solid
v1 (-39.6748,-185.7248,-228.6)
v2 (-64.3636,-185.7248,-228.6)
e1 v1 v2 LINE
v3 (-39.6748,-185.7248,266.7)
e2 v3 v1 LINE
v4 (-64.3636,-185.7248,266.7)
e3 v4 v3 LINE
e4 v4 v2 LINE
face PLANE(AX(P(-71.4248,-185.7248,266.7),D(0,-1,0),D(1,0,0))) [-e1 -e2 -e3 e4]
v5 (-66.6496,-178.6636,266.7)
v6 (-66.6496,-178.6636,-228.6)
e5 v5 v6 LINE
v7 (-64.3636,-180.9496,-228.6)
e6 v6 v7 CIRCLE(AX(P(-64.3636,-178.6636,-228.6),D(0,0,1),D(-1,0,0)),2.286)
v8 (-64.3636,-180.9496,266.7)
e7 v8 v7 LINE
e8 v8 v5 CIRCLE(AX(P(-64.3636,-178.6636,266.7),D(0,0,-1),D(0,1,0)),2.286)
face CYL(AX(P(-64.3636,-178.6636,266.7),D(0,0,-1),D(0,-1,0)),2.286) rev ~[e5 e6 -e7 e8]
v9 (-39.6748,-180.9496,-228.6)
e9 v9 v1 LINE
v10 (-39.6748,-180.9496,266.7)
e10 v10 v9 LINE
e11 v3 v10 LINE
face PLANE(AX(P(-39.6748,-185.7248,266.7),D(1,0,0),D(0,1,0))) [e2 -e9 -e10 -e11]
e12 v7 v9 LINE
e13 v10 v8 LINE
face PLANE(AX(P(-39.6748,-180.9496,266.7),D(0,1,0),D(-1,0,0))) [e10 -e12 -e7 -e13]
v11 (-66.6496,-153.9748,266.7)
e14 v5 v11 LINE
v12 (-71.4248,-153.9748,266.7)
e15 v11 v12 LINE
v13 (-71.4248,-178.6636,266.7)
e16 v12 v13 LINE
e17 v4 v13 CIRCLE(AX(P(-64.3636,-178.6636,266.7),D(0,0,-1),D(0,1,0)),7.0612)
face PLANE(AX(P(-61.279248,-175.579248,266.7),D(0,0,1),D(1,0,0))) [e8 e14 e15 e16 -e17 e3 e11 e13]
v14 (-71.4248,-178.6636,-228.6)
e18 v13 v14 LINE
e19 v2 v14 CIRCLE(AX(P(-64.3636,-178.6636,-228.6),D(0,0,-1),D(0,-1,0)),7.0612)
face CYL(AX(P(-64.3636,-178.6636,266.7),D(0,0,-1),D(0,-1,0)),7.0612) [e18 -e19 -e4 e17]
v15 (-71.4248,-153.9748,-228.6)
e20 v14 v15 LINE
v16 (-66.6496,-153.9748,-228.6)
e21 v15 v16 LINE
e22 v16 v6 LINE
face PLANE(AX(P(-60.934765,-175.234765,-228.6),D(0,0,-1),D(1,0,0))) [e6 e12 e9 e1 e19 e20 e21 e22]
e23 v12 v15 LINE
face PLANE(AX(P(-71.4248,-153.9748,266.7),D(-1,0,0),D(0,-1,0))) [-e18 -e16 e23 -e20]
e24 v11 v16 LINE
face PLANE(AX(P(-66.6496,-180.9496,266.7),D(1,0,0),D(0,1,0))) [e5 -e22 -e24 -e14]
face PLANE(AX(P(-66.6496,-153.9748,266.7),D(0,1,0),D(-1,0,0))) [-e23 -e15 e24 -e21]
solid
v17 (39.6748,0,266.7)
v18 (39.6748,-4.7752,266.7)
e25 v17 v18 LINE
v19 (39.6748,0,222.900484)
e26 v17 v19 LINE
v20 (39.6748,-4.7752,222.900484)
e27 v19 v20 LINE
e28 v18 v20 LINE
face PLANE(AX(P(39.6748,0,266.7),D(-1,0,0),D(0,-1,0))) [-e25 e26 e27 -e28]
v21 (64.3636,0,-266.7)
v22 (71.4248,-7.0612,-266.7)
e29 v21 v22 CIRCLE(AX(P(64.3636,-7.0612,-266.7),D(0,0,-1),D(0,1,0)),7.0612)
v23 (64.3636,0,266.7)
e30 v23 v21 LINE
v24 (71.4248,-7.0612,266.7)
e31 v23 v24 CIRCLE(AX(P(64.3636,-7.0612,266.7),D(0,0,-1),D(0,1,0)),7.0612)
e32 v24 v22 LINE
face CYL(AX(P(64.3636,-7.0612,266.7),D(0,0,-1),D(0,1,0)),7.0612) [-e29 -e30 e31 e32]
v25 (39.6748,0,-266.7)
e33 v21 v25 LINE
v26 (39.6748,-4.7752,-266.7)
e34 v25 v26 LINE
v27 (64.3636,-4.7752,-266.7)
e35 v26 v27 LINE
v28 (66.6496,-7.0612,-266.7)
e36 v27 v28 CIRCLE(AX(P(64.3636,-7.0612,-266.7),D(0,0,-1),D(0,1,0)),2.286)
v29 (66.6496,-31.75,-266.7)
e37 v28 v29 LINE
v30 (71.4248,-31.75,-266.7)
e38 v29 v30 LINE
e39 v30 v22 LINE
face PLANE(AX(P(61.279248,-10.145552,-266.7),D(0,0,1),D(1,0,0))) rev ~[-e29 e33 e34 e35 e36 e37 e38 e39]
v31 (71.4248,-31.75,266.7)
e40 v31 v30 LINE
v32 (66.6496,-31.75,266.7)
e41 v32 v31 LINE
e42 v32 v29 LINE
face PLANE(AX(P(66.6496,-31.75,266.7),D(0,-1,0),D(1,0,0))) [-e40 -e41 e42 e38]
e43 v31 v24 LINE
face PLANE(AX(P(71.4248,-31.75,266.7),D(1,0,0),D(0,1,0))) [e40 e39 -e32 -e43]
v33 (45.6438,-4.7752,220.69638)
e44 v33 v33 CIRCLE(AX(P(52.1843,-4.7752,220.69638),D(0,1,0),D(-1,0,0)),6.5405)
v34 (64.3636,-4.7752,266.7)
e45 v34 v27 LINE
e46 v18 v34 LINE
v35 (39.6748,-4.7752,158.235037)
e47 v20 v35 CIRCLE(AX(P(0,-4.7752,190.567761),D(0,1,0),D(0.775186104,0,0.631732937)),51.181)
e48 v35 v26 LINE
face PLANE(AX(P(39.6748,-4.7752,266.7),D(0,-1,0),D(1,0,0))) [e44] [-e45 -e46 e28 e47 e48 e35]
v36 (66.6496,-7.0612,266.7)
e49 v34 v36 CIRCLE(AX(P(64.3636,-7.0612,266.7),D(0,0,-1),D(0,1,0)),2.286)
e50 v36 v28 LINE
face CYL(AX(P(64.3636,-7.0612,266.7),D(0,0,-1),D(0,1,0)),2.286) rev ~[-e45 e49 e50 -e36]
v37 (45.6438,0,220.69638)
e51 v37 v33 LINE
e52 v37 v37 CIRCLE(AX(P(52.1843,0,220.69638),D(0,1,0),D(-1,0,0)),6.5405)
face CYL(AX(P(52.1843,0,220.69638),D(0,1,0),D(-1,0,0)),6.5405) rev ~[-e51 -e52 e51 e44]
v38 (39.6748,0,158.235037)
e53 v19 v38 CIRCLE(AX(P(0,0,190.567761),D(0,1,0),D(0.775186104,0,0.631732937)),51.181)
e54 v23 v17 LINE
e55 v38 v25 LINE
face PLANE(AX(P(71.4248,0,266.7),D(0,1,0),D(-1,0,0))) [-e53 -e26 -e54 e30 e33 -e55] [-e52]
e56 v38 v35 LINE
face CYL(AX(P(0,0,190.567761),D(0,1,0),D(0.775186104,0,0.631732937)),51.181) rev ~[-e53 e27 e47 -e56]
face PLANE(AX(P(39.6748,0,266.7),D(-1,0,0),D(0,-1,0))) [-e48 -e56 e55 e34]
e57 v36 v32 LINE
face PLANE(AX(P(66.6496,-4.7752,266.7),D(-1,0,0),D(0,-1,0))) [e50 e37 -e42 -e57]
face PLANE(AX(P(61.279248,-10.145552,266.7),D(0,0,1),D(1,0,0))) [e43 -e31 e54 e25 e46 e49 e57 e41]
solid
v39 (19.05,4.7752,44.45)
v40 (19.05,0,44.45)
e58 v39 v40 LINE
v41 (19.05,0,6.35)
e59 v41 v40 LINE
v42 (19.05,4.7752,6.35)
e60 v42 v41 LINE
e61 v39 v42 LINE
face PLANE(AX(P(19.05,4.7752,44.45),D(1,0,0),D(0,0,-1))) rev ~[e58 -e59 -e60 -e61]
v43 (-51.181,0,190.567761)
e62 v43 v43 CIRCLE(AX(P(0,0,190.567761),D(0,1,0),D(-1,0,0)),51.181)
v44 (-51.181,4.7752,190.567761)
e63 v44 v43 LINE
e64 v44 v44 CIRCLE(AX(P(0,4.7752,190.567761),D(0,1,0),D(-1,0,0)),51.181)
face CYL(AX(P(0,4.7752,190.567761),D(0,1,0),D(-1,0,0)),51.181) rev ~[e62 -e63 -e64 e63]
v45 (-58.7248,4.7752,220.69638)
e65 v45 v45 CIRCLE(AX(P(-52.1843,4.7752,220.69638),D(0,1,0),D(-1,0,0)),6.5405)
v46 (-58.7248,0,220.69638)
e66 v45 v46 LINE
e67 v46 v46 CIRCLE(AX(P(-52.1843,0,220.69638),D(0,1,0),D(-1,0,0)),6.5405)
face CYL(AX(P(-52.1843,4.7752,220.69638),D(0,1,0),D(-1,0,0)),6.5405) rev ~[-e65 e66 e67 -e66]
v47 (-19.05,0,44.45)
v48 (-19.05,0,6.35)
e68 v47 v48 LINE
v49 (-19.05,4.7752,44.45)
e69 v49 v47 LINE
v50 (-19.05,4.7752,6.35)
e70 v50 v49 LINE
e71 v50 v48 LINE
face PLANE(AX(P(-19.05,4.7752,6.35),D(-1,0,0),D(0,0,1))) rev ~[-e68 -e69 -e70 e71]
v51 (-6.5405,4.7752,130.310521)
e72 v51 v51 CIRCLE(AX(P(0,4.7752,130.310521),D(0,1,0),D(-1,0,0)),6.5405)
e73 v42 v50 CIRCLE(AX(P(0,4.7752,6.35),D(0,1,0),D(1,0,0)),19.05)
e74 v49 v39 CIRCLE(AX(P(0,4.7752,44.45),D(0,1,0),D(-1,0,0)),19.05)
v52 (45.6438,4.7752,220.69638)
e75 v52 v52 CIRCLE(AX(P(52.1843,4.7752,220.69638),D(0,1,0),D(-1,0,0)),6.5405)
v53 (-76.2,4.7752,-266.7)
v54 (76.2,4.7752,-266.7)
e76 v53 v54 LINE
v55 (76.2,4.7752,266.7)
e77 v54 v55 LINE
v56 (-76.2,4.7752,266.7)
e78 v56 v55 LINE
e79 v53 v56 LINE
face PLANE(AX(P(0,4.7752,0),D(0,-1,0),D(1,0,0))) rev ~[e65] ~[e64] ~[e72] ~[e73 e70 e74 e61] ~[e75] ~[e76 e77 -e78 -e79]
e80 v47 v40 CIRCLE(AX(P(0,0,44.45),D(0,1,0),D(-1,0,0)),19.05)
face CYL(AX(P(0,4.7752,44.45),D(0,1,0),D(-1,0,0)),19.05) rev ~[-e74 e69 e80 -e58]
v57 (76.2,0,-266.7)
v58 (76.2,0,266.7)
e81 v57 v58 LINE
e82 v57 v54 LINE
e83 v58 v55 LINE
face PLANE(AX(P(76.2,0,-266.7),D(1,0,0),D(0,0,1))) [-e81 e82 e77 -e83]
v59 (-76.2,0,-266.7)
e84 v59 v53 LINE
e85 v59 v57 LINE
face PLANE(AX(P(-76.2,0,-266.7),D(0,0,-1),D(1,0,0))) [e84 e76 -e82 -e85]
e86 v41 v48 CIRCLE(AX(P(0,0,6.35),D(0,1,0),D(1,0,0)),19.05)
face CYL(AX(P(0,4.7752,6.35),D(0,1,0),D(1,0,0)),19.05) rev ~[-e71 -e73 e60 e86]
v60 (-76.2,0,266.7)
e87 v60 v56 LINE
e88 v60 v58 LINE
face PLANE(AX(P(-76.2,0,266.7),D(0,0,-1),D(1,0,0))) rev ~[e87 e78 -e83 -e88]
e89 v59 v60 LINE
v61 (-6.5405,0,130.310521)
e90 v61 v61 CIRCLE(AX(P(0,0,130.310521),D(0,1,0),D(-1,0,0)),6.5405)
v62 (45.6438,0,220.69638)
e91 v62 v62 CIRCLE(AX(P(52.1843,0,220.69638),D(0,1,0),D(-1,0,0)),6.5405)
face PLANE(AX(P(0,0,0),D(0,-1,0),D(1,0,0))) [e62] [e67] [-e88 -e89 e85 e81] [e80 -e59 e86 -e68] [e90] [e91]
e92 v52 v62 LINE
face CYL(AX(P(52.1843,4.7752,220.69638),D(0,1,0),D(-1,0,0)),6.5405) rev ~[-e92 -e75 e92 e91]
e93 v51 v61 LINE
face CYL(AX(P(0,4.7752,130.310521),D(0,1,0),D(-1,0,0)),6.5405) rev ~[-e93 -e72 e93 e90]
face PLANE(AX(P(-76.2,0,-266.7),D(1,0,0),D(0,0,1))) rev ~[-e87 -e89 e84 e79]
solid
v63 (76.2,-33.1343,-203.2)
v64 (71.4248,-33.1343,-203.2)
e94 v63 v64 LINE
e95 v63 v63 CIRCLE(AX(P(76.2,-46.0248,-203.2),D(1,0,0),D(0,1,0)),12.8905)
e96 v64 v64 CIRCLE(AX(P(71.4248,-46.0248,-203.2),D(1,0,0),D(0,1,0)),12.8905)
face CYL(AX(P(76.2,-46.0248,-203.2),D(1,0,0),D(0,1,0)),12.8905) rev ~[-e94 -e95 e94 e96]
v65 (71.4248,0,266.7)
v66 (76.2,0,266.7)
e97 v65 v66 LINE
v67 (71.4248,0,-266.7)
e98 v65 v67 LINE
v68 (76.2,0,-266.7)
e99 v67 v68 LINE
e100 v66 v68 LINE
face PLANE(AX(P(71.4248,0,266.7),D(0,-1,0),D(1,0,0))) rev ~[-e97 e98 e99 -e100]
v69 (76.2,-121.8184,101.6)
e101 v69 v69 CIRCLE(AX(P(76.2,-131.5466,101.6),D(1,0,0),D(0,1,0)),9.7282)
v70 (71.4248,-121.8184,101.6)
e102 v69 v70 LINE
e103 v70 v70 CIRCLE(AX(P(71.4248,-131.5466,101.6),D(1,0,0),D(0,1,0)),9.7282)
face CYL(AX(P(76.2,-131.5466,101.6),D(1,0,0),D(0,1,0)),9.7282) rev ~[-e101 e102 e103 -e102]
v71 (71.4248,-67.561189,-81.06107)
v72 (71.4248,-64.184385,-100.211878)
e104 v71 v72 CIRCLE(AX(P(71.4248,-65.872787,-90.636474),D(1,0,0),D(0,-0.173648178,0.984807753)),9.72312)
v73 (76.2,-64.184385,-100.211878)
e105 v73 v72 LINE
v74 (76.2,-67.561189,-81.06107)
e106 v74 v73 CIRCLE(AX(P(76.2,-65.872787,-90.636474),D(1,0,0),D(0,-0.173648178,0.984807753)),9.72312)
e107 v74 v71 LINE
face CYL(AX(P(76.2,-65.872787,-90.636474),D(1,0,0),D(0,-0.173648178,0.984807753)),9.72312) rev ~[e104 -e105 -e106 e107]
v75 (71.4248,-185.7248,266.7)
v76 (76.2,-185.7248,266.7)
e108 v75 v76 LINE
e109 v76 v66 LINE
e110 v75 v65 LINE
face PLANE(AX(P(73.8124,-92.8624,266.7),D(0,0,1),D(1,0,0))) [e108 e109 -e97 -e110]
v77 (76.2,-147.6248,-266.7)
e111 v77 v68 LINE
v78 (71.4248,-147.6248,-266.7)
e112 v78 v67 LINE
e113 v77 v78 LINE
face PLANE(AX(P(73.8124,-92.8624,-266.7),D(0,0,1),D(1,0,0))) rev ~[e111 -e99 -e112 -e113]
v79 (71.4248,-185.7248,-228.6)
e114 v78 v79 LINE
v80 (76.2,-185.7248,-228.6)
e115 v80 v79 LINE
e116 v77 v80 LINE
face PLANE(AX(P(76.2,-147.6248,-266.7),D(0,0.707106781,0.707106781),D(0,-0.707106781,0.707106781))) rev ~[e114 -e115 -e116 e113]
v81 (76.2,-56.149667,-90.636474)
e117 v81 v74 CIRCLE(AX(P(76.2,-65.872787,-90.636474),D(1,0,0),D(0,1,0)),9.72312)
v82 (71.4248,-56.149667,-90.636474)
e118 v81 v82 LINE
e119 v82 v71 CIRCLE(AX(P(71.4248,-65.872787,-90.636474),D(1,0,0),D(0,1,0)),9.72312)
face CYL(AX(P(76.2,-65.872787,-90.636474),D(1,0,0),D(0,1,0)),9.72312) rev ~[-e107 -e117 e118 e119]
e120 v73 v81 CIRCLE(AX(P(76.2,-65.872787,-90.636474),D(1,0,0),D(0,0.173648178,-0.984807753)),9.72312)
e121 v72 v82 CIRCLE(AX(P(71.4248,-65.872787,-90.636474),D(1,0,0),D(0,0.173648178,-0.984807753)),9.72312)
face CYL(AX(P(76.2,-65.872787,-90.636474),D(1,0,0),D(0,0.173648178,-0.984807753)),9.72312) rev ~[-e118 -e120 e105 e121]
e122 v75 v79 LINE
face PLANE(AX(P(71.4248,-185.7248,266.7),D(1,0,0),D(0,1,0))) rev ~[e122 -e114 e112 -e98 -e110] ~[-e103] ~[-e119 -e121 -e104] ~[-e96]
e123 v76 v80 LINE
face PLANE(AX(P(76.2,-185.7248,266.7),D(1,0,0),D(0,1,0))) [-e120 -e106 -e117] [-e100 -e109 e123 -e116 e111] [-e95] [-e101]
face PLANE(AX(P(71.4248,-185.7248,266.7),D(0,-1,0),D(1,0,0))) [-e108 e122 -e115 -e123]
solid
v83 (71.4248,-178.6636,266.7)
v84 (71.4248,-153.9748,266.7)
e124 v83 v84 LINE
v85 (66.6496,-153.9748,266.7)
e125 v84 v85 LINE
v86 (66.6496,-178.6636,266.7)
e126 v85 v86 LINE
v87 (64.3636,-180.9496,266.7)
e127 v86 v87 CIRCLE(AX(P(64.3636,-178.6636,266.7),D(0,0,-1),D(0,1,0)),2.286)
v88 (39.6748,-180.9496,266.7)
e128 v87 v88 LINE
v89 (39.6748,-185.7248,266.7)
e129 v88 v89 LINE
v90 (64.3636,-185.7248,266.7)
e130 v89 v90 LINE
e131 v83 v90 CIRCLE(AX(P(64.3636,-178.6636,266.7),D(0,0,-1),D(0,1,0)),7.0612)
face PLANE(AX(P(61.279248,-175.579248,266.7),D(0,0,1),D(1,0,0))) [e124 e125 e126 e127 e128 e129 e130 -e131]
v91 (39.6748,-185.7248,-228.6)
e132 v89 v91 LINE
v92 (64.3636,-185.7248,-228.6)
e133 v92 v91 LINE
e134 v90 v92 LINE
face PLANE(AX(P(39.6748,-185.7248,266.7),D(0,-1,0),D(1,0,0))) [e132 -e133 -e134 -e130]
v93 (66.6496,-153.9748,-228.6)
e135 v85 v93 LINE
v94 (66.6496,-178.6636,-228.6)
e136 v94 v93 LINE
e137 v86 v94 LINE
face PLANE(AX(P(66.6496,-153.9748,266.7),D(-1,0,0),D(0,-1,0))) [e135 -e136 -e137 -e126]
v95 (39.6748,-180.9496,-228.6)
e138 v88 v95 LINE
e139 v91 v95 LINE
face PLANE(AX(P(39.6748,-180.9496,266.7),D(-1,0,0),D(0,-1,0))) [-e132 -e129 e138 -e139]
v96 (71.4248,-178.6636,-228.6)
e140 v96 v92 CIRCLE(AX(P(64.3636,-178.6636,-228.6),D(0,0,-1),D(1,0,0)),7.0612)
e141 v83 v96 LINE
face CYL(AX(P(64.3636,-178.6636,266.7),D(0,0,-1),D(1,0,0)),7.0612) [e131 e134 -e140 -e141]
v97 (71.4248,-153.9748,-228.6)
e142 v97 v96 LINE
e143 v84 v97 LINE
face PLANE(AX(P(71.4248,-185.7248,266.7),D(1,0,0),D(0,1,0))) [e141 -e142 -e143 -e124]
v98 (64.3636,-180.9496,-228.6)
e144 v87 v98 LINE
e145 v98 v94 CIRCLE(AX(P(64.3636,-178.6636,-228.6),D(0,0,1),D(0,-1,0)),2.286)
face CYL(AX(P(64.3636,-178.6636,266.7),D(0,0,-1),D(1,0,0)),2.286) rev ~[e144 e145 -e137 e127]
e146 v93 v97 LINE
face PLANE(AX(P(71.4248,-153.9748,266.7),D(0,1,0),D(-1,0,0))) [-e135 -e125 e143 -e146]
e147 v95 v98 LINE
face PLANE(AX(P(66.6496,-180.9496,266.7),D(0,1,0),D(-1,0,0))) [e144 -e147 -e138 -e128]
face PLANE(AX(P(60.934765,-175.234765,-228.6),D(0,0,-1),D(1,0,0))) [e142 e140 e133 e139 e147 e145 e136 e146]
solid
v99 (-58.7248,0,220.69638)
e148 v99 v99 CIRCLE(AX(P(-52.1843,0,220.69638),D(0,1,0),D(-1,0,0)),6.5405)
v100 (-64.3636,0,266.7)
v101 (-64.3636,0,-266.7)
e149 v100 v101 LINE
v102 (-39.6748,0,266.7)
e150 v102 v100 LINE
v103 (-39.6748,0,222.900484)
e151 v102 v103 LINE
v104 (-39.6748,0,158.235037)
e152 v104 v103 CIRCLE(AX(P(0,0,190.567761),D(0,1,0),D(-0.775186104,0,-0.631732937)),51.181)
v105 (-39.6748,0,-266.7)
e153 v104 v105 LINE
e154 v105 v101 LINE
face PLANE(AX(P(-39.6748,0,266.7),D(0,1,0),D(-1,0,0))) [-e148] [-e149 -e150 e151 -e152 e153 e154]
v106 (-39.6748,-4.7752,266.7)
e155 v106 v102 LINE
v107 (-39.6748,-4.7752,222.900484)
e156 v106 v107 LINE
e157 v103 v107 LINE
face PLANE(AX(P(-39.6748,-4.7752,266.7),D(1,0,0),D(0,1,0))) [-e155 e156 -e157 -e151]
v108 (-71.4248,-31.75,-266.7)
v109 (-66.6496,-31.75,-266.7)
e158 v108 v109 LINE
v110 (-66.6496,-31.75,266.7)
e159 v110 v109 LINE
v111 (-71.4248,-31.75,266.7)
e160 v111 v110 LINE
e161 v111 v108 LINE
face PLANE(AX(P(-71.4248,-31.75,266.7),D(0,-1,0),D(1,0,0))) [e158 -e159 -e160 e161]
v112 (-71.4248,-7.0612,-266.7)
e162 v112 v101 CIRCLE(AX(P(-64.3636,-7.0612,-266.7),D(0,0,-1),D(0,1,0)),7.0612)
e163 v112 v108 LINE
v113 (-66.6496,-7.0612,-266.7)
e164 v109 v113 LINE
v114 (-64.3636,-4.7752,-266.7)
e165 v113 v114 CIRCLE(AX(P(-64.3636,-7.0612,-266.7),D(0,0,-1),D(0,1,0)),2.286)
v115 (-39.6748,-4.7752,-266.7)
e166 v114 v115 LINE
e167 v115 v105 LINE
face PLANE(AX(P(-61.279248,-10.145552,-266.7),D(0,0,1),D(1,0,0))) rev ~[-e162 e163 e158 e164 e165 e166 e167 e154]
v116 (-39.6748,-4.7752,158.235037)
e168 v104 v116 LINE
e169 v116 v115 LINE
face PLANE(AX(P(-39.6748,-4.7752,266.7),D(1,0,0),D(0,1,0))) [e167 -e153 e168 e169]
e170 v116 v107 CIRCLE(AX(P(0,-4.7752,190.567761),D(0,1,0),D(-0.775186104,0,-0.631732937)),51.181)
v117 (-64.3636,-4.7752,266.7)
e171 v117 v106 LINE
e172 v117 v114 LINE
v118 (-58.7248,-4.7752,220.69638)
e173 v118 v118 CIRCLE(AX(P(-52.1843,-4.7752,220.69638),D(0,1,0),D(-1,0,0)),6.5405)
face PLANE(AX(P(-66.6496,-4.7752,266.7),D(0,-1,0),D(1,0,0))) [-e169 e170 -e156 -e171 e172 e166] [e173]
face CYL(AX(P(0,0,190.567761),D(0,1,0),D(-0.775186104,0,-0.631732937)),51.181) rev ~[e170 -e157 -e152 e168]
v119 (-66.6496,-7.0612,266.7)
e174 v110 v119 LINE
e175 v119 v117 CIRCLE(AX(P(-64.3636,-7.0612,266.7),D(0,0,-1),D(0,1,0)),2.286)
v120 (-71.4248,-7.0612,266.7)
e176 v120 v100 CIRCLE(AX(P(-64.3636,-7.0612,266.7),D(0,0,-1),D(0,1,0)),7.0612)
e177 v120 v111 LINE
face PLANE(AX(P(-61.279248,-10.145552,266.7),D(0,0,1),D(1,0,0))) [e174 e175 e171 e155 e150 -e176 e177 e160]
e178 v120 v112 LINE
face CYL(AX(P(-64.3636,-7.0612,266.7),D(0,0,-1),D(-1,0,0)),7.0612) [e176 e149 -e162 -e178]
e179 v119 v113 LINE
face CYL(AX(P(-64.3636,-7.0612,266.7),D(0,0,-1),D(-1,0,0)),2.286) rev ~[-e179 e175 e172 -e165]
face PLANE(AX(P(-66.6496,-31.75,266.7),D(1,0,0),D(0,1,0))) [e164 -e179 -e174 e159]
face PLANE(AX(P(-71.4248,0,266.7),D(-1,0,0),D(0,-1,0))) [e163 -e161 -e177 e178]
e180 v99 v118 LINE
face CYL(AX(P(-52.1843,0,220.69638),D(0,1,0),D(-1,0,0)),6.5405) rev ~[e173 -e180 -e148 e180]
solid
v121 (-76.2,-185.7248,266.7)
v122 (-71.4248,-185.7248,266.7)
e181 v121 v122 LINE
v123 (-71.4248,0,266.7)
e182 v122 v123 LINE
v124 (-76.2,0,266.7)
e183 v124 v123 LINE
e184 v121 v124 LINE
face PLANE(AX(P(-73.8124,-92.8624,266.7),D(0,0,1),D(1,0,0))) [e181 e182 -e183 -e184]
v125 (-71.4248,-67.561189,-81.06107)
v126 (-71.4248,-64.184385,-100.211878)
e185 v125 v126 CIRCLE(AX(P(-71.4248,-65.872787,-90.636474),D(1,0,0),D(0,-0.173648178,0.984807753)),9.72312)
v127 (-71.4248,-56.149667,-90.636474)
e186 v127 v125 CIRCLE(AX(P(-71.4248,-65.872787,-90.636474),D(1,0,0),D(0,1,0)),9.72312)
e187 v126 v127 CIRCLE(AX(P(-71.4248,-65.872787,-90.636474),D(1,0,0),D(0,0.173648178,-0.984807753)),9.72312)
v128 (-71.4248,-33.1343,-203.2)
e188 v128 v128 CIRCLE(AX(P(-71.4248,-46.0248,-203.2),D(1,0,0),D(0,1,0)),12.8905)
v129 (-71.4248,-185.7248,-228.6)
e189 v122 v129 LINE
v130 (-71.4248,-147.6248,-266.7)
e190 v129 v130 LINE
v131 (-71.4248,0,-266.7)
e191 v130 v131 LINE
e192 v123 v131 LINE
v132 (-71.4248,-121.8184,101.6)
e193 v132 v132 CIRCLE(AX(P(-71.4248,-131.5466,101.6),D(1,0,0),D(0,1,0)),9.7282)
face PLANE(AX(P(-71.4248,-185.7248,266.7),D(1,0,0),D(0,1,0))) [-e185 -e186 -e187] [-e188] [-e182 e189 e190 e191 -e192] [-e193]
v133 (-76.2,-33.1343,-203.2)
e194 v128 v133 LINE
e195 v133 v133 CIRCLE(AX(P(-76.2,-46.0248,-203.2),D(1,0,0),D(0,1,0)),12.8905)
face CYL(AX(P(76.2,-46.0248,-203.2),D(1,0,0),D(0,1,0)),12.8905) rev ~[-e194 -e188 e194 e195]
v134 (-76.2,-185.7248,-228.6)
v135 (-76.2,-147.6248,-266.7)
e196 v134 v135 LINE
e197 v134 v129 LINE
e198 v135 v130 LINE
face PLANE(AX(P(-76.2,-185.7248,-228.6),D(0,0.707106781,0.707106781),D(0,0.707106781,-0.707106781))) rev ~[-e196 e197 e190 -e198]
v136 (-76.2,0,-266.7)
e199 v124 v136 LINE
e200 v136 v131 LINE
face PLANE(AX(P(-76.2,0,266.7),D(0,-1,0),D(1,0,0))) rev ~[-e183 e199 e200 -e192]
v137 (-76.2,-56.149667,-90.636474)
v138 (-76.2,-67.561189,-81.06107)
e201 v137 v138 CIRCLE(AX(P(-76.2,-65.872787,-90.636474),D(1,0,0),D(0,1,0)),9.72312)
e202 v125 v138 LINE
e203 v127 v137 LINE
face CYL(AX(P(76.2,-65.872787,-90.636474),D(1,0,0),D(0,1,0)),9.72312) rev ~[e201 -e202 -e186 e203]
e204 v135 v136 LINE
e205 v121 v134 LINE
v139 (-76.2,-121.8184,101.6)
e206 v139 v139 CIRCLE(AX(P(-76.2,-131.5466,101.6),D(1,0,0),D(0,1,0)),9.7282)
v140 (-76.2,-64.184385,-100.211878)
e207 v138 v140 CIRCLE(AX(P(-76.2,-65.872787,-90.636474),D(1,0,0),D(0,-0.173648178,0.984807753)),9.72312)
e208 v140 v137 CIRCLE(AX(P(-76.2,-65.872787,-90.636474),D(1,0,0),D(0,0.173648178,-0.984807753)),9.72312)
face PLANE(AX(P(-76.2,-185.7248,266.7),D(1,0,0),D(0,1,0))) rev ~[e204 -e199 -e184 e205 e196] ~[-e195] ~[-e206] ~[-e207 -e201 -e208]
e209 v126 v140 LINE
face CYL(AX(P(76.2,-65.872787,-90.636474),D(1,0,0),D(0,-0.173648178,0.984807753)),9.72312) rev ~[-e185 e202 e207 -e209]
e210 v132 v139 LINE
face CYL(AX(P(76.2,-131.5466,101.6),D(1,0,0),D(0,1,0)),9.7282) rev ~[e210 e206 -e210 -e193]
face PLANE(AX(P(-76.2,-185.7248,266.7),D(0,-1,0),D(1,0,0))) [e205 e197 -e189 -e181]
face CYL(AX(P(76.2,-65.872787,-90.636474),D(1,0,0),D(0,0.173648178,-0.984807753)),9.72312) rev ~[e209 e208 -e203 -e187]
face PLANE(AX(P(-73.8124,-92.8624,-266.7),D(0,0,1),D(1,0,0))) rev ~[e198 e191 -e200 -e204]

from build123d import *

# Parameters (mm, degrees)
F0_W      = 152.4
F0_H      = 533.4
F1_DEPTH  = 4.7752
F2_R      = 51.181
F2_R_2    = 6.5405
F3_DEPTH  = 25.4
F4_W      = 4.7752
F4_H      = 185.7248
F5_DEPTH  = 533.4
F7_DEPTH  = 533.4
F8_R      = 2.286
F9_R      = 7.0612
F10_R     = 12.8905
F11_DEPTH = 152.401
F12_R     = 9.7282
F13_DEPTH = 152.401
F14_R     = 6.5405
F15_DEPTH = 6.35
F17_DEPTH = 6.35
F19_DEPTH = 4.7752
F21_DEPTH = 4.7752
F23_DEPTH = 38.1


with BuildPart() as f1:
    # F0 (on Front) → F1 (new body)
    with BuildSketch(Plane.XZ):
        Rectangle(F0_W, F0_H)
    extrude(amount=-F1_DEPTH)

    # F2 (on face) → F3 (cut)
    with BuildSketch(Plane(origin=(0, 4.7752, 0), x_dir=(-1, 0, 0), z_dir=(0, 1, 0))):
        with Locations((0, 190.5677606951)):
            Circle(F2_R)
        with Locations((0, 130.3105213901)):
            Circle(F2_R_2)
        with Locations((52.1843, 220.6963803475)):
            Circle(F2_R_2)
        with Locations((-52.1843, 220.6963803475)):
            Circle(F2_R_2)
    extrude(amount=-F3_DEPTH, mode=Mode.SUBTRACT)

    # F16 (on face) → F17 (cut)
    with BuildSketch(Plane(origin=(0, 4.7752, 0), x_dir=(-1, 0, 0), z_dir=(0, 1, 0))):
        with BuildLine():
            Line((19.05, 6.35), (19.05, 44.45))
            ThreePointArc((19.05, 44.45), (0, 63.5), (-19.05, 44.45))
            Line((-19.05, 44.45), (-19.05, 6.35))
            ThreePointArc((-19.05, 6.35), (0, -12.7), (19.05, 6.35))
        make_face()
    extrude(amount=-F17_DEPTH, mode=Mode.SUBTRACT)


with BuildPart() as f5:
    # F4 (on face) → F5 (new body, through all)
    with BuildSketch(Plane.XY.offset(266.7)):
        with Locations((73.8124, -92.8624)):
            Rectangle(F4_W, F4_H)
        with Locations((-73.8124, -92.8624)):
            Rectangle(F4_W, F4_H)
    extrude(amount=-F5_DEPTH)

    # F10 (on face) → F11 (cut, through all)
    with BuildSketch(Plane.YZ.offset(76.2)):
        with Locations((-46.0248, -203.2)):
            Circle(F10_R)
    extrude(amount=-F11_DEPTH, mode=Mode.SUBTRACT)

    # F12 (on face) → F13 (cut, through all)
    with BuildSketch(Plane.YZ.offset(76.2)):
        with BuildLine():
            ThreePointArc((-48.2632118342, -190.5053356598), (-54.3106536827, -213.074695894), (-33.1343, -203.2))
            ThreePointArc((-33.1343, -203.2), (-37.7389463173, -193.325304106), (-48.2632118342, -190.5053356598))
        make_face()
        with BuildLine():
            ThreePointArc((-67.5611887766, -81.0610698712), (-75.4481906668, -92.3248758999), (-64.1843846381, -100.2118777902))
            Line((-64.1843846381, -100.2118777902), (-67.5611887766, -81.0610698712))
        make_face()
        with BuildLine():
            Line((-67.5611887766, -81.0610698712), (-64.1843846381, -100.2118777902))
            ThreePointArc((-64.1843846381, -100.2118777902), (-58.4244446616, -96.8863748942), (-56.1496667073, -90.6364738307))
            ThreePointArc((-56.1496667073, -90.6364738307), (-59.6228856438, -83.1881317849), (-67.5611887766, -81.0610698712))
        make_face()
        with Locations((-131.5466, 101.6)):
            Circle(F12_R)
    extrude(amount=-F13_DEPTH, mode=Mode.SUBTRACT)

    # F18 (on face) → F19 (cut, through all)
    with BuildSketch(Plane.YZ.offset(76.2)):
        Polygon((-185.7248, -228.6), (-185.7248, -266.7), (-147.6248, -266.7), align=None)
    extrude(amount=-F19_DEPTH, mode=Mode.SUBTRACT)

    # F20 (on face) → F21 (cut, through all)
    with BuildSketch(Plane(origin=(-76.2, 0, 0), x_dir=(0, -1, 0), z_dir=(-1, 0, 0))):
        Polygon((147.6248, -266.7), (185.7248, -266.7), (185.7248, -228.6), align=None)
    extrude(amount=-F21_DEPTH, mode=Mode.SUBTRACT)


with BuildPart() as f7:
    # F6 (on face) → F7 (new body)
    with BuildSketch(Plane.XY.offset(266.7)):
        Polygon((-39.6748, 0), (-71.4248, 0), (-71.4248, -31.75), (-66.6496, -31.75), (-66.6496, -4.7752), (-39.6748, -4.7752), align=None)
        Polygon((71.4248, -31.75), (71.4248, 0), (39.6748, 0), (39.6748, -4.7752), (66.6496, -4.7752), (66.6496, -31.75), align=None)
        Polygon((-71.4248, -153.9748), (-71.4248, -185.7248), (-39.6748, -185.7248), (-39.6748, -180.9496), (-66.6496, -180.9496), (-66.6496, -153.9748), align=None)
        Polygon((66.6496, -153.9748), (66.6496, -180.9496), (39.6748, -180.9496), (39.6748, -185.7248), (71.4248, -185.7248), (71.4248, -153.9748), align=None)
    extrude(amount=-F7_DEPTH)

    # F8
    f8_edges = [f7.edges().sort_by_distance(p)[0] for p in [
        (-66.6496, -4.7752, 0),
        (66.6496, -4.7752, 0),
        (-66.6496, -180.9496, 0),
        (66.6496, -180.9496, 0),
    ]]
    fillet(f8_edges, radius=F8_R)

    # F9
    f9_edges = [f7.edges().sort_by_distance(p)[0] for p in [
        (71.4248, 0, 0),
        (71.4248, -185.7248, 0),
        (-71.4248, -185.7248, 0),
        (-71.4248, 0, 0),
    ]]
    fillet(f9_edges, radius=F9_R)

    # F14 (on face) → F15 (cut)
    with BuildSketch(Plane(origin=(0, 0, 0), x_dir=(-1, 0, 0), z_dir=(0, 1, 0))):
        with Locations((-52.1843, 220.6963803475)):
            Circle(F14_R)
        with BuildLine():
            ThreePointArc((-39.6748, 222.9004841492), (-51.181, 190.5677606951), (-39.6748, 158.2350372409))
            Line((-39.6748, 158.2350372409), (-39.6748, 222.9004841492))
        make_face()
        with BuildLine():
            Line((39.6748, 222.9004841492), (39.6748, 158.2350372409))
            ThreePointArc((39.6748, 158.2350372409), (51.181, 190.5677606951), (39.6748, 222.9004841492))
        make_face()
        with Locations((52.1843, 220.6963803475)):
            Circle(F14_R)
    extrude(amount=-F15_DEPTH, mode=Mode.SUBTRACT)

    # F22 (on face) → F23 (cut)
    with BuildSketch(Plane(origin=(0, 0, -266.7), x_dir=(1, 0, 0), z_dir=(0, 0, -1))):
        with BuildLine():
            Line((-39.6748, 180.9496), (-39.6748, 185.7248))
            Line((-39.6748, 185.7248), (-64.3636, 185.7248))
            ThreePointArc((-64.3636, 185.7248), (-69.3566224033, 183.6566224033), (-71.4248, 178.6636))
            Line((-71.4248, 178.6636), (-71.4248, 153.9748))
            Line((-71.4248, 153.9748), (-66.6496, 153.9748))
            Line((-66.6496, 153.9748), (-66.6496, 178.6636))
            ThreePointArc((-66.6496, 178.6636), (-65.9800461018, 180.2800461018), (-64.3636, 180.9496))
            Line((-64.3636, 180.9496), (-39.6748, 180.9496))
        make_face()
        with BuildLine():
            Line((66.6496, 153.9748), (71.4248, 153.9748))
            Line((71.4248, 153.9748), (71.4248, 178.6636))
            ThreePointArc((71.4248, 178.6636), (69.3566224033, 183.6566224033), (64.3636, 185.7248))
            Line((64.3636, 185.7248), (39.6748, 185.7248))
            Line((39.6748, 185.7248), (39.6748, 180.9496))
            Line((39.6748, 180.9496), (64.3636, 180.9496))
            ThreePointArc((64.3636, 180.9496), (65.9800461018, 180.2800461018), (66.6496, 178.6636))
            Line((66.6496, 178.6636), (66.6496, 153.9748))
        make_face()
    extrude(amount=-F23_DEPTH, mode=Mode.SUBTRACT)


solid = Compound([f1.part, f5.part, f7.part])
